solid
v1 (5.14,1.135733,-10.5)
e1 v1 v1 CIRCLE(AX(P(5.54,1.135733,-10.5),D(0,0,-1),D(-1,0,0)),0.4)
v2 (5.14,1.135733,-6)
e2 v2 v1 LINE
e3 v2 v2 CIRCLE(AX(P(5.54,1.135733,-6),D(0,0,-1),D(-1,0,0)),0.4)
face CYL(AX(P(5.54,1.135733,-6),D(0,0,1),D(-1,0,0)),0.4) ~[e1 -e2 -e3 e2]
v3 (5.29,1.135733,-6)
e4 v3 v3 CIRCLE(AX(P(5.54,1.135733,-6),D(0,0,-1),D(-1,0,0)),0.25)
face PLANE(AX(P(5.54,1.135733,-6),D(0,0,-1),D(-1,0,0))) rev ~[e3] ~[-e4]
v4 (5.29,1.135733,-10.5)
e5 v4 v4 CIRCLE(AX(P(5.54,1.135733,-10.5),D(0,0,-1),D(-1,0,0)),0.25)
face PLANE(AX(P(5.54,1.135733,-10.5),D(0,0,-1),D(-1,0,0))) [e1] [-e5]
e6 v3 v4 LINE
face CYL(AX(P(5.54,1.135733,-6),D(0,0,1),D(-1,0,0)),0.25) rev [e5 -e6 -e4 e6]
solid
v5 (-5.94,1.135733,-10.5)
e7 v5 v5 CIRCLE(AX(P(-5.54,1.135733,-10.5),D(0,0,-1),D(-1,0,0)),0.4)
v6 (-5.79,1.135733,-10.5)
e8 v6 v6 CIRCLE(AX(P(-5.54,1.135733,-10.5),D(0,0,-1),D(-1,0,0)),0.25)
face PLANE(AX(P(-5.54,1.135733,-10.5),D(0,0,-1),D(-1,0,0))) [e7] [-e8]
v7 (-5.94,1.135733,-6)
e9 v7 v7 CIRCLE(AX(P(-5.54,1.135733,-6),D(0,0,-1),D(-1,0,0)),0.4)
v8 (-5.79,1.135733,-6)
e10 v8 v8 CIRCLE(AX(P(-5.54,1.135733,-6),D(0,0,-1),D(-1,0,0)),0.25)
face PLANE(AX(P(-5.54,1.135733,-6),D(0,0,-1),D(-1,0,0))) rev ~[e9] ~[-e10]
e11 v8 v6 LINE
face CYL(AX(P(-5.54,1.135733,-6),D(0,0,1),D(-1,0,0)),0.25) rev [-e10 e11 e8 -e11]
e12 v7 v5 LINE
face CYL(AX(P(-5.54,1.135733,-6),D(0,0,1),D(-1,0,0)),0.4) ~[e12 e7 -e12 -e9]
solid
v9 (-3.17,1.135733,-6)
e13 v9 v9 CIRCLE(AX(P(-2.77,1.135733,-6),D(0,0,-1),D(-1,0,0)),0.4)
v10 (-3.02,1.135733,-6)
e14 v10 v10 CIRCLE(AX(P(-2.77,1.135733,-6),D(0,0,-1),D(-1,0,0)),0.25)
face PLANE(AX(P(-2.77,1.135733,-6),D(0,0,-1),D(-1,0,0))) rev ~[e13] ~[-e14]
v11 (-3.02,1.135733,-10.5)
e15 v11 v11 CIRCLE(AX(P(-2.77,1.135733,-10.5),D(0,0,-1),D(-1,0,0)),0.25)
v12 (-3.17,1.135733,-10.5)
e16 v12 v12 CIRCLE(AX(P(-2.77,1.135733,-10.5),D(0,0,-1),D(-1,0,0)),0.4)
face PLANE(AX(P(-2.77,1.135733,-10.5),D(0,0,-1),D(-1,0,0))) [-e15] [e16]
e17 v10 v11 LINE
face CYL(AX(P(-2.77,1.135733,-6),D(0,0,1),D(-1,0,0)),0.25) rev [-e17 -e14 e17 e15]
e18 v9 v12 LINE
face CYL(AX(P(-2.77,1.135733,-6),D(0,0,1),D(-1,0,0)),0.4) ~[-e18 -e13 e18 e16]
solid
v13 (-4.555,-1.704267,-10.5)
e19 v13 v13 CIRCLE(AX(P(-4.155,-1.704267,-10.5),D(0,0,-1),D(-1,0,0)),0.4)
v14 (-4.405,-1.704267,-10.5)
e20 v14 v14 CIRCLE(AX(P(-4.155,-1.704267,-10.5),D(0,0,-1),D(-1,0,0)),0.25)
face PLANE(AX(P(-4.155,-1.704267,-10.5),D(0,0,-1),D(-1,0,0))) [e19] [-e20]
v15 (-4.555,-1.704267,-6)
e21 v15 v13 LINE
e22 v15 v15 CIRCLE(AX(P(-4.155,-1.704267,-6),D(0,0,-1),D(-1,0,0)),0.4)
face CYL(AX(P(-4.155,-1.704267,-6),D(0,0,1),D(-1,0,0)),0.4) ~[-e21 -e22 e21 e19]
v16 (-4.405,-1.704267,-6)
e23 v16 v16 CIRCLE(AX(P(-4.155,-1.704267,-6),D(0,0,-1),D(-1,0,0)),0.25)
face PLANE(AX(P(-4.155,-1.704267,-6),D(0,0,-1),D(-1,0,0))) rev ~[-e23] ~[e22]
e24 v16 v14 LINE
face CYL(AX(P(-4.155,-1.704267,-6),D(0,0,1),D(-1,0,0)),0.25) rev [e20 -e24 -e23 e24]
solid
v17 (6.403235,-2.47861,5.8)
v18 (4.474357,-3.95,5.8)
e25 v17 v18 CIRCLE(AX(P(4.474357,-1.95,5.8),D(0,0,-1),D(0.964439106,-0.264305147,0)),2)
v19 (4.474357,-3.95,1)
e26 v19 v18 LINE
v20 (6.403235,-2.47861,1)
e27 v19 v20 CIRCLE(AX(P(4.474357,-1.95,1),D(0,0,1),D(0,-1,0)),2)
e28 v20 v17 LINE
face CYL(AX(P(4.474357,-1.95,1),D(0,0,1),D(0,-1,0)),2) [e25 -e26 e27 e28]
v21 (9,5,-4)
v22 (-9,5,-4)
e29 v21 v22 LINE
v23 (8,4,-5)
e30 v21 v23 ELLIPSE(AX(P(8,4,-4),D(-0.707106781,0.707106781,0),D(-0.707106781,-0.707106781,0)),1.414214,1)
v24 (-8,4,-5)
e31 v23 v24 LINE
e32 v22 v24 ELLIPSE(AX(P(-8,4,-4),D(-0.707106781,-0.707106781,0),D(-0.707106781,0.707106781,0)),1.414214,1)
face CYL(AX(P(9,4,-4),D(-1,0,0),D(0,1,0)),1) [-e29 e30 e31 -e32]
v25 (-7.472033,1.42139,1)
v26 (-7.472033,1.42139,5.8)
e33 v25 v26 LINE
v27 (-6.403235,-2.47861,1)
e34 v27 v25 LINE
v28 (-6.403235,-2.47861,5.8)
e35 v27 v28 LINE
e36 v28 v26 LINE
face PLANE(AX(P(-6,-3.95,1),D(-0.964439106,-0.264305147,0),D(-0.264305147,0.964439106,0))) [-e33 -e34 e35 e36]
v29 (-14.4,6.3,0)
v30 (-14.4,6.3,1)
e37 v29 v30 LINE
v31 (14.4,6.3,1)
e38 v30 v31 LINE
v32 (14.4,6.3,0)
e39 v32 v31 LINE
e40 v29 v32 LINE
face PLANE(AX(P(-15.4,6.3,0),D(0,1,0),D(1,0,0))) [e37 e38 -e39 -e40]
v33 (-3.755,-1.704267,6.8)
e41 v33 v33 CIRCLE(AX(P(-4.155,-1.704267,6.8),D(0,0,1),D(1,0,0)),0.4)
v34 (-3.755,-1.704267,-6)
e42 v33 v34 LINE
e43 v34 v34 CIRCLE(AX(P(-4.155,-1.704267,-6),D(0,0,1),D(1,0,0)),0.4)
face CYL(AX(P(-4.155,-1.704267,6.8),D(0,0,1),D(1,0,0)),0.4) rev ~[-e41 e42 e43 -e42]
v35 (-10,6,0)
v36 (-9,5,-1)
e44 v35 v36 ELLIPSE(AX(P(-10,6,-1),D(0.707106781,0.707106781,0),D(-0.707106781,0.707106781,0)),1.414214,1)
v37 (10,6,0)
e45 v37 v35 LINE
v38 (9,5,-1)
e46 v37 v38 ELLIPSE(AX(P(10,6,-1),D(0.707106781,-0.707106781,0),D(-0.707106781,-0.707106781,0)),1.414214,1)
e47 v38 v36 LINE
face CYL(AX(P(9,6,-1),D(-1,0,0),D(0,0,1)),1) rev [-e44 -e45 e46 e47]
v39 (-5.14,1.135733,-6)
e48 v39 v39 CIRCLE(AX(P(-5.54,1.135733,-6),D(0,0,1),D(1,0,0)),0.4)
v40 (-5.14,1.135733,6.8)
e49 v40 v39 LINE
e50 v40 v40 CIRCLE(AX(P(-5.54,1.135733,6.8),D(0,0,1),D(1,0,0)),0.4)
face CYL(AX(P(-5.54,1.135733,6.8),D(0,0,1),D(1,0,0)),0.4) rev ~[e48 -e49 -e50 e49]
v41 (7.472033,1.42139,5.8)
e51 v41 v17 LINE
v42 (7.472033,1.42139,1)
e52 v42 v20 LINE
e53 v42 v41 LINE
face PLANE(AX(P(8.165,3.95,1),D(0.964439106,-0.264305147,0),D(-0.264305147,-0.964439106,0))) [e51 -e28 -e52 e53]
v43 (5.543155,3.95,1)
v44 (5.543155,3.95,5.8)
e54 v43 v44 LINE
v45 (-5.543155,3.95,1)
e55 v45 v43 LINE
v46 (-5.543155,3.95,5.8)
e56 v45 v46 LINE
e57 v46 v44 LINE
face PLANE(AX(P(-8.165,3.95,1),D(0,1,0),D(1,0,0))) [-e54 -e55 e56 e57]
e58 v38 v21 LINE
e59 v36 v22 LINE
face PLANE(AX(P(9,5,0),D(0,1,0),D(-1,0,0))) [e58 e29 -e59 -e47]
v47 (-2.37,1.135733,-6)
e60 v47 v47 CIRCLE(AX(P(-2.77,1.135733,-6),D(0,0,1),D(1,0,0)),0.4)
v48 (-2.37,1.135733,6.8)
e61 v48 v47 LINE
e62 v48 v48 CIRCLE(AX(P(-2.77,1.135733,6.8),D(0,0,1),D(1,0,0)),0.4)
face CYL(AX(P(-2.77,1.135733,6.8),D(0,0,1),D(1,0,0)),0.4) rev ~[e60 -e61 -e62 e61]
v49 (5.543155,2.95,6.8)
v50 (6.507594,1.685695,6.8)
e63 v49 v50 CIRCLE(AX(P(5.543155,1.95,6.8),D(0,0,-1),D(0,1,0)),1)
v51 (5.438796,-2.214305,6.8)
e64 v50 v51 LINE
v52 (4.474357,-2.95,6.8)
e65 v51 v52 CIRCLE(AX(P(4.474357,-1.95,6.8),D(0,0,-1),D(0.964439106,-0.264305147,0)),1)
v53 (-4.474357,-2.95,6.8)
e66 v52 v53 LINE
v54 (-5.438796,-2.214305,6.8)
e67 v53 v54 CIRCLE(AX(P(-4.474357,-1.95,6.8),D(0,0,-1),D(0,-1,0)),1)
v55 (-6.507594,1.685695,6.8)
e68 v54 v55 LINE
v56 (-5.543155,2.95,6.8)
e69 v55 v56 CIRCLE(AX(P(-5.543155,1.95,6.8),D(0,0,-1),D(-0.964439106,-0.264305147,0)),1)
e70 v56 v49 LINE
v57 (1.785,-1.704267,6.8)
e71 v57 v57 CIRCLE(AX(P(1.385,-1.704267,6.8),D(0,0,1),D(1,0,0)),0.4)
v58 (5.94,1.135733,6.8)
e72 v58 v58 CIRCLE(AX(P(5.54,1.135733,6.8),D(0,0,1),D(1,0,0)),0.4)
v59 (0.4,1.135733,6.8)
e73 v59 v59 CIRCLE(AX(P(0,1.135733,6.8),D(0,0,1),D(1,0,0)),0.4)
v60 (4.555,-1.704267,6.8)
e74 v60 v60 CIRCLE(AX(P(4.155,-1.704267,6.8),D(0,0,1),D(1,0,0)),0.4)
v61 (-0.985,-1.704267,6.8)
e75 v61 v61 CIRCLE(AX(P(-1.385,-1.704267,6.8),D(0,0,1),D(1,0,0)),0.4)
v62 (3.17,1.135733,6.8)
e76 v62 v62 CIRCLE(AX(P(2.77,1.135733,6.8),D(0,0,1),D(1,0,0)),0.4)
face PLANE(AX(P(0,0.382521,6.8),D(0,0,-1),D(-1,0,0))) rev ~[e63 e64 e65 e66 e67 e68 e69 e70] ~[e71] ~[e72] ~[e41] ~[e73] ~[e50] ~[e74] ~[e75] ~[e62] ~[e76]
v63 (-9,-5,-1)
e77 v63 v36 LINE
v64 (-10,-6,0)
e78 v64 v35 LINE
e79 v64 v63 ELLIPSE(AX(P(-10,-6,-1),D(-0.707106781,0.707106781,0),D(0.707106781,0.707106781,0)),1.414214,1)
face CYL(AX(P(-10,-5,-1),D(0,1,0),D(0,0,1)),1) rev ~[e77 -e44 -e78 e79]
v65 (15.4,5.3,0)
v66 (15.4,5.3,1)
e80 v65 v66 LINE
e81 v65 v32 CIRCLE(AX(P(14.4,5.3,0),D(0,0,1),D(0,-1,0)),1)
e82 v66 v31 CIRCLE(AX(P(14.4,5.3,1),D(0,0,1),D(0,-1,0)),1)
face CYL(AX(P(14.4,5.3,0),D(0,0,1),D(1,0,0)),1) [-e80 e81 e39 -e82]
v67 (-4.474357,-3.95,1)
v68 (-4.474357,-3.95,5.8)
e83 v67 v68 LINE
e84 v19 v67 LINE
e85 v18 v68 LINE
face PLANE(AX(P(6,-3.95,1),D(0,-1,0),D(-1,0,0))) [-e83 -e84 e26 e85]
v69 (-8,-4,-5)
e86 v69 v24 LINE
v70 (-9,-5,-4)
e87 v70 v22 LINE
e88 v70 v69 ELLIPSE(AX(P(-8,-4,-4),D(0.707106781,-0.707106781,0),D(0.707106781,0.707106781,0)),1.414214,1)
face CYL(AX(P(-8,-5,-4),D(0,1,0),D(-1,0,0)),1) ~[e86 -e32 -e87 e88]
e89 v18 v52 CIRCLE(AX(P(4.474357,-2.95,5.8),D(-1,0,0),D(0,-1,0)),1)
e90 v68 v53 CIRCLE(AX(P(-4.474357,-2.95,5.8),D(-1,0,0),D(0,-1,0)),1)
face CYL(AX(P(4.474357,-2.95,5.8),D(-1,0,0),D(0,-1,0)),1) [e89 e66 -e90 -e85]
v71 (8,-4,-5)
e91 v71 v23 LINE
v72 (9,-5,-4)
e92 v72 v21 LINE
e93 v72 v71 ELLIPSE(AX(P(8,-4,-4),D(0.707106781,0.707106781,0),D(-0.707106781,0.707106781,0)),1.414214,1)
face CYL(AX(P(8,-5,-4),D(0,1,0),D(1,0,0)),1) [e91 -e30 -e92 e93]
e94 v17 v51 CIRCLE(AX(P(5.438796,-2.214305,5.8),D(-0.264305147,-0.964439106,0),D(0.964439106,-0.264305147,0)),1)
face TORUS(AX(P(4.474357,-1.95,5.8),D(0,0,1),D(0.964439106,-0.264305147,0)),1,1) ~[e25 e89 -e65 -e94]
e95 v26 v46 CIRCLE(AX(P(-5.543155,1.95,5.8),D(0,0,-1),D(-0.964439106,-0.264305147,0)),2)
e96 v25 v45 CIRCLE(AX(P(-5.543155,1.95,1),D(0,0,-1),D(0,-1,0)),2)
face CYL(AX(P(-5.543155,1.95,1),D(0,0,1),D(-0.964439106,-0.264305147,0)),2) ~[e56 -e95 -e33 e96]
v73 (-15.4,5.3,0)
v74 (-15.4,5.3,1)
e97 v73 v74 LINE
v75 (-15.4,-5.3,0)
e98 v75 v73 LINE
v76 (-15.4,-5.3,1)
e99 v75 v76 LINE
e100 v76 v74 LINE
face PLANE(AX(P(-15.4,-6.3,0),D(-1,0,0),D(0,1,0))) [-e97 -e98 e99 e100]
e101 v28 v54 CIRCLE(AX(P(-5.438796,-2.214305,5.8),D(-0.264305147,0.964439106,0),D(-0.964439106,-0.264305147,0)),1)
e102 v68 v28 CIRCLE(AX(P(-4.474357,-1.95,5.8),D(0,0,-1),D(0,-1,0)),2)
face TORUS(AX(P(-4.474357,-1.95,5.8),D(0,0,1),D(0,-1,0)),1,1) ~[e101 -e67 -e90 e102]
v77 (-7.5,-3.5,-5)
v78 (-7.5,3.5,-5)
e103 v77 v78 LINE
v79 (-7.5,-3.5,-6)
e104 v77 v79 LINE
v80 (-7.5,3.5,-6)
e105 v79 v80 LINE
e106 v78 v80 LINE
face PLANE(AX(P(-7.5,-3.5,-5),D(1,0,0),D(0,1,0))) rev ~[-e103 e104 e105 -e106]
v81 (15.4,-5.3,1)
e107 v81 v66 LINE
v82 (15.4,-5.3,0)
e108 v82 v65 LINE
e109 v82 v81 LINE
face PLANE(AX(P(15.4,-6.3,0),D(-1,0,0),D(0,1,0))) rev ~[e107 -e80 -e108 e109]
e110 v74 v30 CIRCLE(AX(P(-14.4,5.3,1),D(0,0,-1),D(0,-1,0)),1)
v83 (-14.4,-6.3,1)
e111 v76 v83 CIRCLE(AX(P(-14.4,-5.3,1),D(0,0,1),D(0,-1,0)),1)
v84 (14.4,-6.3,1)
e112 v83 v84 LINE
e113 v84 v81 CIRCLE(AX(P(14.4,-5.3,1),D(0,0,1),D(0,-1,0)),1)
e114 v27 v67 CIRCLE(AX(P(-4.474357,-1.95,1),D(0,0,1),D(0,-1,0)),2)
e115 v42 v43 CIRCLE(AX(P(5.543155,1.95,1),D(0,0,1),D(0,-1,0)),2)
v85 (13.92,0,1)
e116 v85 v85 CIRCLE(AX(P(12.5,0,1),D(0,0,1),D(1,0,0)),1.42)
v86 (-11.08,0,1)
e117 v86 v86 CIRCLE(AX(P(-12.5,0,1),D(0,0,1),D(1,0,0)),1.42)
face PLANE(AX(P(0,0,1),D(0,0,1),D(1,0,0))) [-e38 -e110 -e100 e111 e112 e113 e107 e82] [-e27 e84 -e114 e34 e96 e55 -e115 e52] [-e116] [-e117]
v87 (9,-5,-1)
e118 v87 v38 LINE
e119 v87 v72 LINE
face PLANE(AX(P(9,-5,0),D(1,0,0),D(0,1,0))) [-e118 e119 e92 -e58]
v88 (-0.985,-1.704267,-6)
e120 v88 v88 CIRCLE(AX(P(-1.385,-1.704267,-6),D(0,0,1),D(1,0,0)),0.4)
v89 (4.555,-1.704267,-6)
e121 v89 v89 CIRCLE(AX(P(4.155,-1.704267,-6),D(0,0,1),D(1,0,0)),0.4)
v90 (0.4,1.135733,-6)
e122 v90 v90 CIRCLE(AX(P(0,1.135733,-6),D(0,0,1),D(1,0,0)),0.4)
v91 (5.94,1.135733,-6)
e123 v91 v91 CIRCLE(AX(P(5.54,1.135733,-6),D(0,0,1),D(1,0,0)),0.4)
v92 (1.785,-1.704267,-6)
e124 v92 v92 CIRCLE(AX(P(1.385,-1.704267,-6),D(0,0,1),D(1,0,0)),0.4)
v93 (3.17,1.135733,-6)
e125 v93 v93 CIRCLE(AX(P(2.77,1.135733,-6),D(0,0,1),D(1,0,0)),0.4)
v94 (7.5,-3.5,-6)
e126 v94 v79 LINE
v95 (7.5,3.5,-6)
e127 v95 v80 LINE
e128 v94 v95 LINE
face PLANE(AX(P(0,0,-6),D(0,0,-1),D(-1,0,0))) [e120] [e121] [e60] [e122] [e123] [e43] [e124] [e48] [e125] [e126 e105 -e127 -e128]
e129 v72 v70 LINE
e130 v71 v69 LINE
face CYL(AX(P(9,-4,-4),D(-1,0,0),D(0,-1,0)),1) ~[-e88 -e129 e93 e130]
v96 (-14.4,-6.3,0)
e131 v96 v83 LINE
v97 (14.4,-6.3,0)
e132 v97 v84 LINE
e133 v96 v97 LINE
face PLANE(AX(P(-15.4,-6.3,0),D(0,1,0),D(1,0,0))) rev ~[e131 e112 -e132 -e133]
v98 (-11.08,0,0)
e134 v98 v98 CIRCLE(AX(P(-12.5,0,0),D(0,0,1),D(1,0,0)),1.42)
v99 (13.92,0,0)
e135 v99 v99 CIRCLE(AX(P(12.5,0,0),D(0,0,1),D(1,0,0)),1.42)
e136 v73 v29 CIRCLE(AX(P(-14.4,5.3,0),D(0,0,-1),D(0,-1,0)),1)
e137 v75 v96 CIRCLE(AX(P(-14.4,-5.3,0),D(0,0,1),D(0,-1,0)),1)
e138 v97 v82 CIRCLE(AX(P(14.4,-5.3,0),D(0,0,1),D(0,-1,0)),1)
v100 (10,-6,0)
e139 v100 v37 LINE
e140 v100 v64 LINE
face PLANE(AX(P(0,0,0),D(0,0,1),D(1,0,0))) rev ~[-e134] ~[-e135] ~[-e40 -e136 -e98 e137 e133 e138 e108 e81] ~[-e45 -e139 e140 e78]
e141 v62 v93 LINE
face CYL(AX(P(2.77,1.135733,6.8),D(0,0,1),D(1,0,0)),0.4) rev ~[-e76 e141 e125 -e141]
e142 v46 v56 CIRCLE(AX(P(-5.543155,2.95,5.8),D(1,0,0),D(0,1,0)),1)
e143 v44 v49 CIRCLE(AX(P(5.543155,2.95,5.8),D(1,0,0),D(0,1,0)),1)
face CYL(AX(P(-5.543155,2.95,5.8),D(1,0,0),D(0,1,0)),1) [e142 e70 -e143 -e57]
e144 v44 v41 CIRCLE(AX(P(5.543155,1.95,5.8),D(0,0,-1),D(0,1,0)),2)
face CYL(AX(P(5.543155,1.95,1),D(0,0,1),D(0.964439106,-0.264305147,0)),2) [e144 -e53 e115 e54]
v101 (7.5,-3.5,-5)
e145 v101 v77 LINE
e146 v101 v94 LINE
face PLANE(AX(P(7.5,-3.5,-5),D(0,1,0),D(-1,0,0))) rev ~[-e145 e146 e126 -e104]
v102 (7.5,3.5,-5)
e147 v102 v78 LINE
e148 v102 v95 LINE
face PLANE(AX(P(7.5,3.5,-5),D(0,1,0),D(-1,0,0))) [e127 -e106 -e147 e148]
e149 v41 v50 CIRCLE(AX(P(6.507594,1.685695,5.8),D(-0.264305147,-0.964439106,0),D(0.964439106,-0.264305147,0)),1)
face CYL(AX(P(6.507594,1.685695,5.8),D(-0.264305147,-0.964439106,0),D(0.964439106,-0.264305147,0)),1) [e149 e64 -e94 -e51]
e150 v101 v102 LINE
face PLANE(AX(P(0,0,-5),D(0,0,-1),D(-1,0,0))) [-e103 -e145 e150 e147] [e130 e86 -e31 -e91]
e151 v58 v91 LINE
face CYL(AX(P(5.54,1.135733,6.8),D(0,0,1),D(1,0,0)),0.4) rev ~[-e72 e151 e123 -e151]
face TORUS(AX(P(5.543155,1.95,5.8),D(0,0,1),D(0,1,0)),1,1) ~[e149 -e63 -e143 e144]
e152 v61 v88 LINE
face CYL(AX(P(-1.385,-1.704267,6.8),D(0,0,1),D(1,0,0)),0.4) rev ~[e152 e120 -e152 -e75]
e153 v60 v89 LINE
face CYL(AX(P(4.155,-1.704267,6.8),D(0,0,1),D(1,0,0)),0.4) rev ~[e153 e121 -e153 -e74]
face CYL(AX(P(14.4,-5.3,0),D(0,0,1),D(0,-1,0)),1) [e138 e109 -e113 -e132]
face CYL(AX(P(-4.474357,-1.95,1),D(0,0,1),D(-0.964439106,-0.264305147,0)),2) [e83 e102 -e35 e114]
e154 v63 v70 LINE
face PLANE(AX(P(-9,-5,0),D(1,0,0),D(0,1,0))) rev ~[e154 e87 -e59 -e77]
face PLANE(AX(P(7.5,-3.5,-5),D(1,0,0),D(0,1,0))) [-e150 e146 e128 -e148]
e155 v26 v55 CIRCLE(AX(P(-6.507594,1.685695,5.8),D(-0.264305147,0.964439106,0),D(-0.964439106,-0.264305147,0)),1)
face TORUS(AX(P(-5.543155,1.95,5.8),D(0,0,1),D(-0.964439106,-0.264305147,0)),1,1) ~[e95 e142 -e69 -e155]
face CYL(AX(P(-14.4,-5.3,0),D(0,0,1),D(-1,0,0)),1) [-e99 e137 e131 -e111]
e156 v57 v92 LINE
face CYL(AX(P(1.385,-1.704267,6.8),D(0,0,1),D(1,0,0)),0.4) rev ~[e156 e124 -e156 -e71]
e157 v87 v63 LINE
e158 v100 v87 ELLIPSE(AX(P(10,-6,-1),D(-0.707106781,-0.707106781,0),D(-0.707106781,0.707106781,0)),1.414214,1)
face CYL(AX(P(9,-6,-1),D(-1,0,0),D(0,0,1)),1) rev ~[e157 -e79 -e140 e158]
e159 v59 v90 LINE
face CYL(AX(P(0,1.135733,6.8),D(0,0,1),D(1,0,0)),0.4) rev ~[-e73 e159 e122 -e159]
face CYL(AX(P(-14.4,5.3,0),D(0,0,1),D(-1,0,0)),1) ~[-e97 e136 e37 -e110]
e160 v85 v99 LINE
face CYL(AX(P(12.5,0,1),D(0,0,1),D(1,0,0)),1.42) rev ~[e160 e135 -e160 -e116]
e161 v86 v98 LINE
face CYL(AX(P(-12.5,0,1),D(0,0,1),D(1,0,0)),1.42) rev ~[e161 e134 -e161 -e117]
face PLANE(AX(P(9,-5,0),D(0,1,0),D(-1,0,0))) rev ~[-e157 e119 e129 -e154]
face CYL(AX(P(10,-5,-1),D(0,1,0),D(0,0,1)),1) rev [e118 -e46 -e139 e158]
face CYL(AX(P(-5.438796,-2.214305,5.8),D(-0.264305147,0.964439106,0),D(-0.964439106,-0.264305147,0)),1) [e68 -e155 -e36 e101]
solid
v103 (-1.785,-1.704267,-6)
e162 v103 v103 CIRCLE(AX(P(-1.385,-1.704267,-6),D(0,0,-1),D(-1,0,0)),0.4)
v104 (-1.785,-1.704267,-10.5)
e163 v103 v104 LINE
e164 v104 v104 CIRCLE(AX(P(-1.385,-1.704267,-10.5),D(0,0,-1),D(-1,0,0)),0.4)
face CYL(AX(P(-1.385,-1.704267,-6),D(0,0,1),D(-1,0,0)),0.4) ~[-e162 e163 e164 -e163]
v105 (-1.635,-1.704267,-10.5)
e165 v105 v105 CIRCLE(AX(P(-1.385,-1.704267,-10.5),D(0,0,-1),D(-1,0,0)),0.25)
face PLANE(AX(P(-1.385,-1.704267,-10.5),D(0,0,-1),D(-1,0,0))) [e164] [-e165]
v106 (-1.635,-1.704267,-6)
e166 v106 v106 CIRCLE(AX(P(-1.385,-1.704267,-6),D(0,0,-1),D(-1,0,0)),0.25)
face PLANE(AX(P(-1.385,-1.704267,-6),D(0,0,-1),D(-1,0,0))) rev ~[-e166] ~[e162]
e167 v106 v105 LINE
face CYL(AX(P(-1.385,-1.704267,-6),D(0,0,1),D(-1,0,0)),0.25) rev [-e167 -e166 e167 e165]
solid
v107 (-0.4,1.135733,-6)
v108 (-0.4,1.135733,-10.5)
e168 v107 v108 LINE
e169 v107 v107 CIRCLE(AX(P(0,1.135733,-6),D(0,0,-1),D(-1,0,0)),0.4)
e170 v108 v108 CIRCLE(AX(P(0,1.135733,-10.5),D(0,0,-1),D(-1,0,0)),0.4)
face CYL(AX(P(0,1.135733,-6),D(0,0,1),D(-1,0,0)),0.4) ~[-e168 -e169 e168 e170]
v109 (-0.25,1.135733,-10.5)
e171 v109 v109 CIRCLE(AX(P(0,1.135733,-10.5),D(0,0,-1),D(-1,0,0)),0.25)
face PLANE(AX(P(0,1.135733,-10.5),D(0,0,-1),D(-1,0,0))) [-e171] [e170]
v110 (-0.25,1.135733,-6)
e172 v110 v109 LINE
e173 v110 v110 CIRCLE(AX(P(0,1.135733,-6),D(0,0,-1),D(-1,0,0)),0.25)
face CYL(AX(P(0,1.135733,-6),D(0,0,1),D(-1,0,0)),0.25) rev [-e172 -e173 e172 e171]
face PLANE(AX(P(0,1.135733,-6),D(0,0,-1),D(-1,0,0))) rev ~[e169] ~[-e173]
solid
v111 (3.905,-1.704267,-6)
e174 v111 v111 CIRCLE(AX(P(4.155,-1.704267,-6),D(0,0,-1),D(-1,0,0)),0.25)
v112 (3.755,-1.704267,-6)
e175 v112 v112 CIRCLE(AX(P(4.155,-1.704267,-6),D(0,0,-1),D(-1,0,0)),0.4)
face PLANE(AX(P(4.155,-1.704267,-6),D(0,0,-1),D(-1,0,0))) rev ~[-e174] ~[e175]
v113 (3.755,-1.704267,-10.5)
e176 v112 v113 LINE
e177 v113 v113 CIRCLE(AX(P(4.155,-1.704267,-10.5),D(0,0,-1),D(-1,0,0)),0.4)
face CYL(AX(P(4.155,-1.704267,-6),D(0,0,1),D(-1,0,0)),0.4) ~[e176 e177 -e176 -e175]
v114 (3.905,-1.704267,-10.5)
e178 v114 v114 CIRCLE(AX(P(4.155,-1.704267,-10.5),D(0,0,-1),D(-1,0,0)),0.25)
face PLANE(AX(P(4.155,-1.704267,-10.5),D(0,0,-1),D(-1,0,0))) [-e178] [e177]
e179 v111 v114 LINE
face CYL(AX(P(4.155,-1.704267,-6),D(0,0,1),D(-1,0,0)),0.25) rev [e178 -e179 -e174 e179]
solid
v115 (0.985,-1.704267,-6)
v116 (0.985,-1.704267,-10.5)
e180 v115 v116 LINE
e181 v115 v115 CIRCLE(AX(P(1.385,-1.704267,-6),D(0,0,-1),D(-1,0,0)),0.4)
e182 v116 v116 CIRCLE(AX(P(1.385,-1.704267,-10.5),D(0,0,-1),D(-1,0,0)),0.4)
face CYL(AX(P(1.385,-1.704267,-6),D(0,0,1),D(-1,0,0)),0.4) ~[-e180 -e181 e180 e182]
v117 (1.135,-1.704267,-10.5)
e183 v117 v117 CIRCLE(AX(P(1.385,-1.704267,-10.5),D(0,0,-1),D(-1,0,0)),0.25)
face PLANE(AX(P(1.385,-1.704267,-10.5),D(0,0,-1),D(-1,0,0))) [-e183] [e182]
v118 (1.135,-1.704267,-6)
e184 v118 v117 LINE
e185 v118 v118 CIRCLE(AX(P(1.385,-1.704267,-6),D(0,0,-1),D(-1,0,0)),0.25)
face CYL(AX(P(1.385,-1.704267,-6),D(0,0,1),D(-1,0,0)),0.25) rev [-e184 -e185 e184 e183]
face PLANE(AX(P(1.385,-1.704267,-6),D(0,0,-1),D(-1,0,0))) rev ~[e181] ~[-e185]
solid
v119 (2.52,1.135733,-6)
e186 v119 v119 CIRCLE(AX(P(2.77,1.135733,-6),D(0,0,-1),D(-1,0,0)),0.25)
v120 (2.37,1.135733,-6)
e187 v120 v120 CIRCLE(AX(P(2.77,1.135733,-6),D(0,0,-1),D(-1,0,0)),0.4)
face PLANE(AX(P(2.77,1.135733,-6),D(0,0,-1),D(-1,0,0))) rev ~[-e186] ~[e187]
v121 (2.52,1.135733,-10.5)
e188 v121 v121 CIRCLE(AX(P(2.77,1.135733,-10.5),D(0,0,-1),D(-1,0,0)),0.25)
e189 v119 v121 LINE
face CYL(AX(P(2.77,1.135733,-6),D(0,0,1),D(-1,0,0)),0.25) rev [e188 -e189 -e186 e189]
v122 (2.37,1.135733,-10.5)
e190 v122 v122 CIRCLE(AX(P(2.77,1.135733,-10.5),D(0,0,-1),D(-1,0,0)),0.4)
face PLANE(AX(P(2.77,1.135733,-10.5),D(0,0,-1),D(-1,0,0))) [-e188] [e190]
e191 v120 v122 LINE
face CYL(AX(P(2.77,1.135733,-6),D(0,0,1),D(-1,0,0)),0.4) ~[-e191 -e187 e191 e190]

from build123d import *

# Parameters (mm, degrees)
SKETCH_1_W             = 30.8
SKETCH_1_H             = 12.6
EXTRUDE_1_DEPTH        = 1
FILLET_1_R             = 1
EXTRUDE_2_DEPTH        = 5.8
FILLET_2_R             = 2
FILLET_3_R             = 1
SKETCH_3_R             = 1.42
CUT_EXTRUDE_1_DEPTH    = 5.8
SKETCH_4_W             = 18
SKETCH_4_H             = 10
EXTRUDE_3_DEPTH        = 5
FILLET_4_R             = 1
FILLET_6_R             = 1
SKETCH_5_W             = 15
SKETCH_5_H             = 7
EXTRUDE_4_DEPTH        = 1
SKETCH_6_R             = 0.4
CUT_EXTRUDE_2_DEPTH    = 20
PATTERN_LINEAR_1_COUNT = 5
PATTERN_LINEAR_1_PITCH = 2.77
SKETCH_7_R             = 0.4
CUT_EXTRUDE_3_DEPTH    = 20
PATTERN_LINEAR_2_COUNT = 4
PATTERN_LINEAR_2_PITCH = 2.77
SKETCH_8_R             = 0.4
EXTRUDE_5_DEPTH        = 4.5
EXTRUDE_5_2_DEPTH      = 4.5
EXTRUDE_5_3_DEPTH      = 4.5
EXTRUDE_5_4_DEPTH      = 4.5
EXTRUDE_5_5_DEPTH      = 4.5
EXTRUDE_5_6_DEPTH      = 4.5
EXTRUDE_5_7_DEPTH      = 4.5
EXTRUDE_5_8_DEPTH      = 4.5
EXTRUDE_5_9_DEPTH      = 4.5
SKETCH_9_R             = 0.25
CUT_EXTRUDE_4_DEPTH    = 4.5


with BuildPart() as part:
    # Эскиз1 → Бобышка-Вытянуть1 (new body)
    with BuildSketch(Plane.XY):
        Rectangle(SKETCH_1_W, SKETCH_1_H)
    extrude(amount=EXTRUDE_1_DEPTH)

    # Скругление1
    fillet_1_edges = [part.edges().sort_by_distance(p)[0] for p in [
        (15.4, -6.3, 0.5),
        (-15.4, -6.3, 0.5),
        (-15.4, 6.3, 0.5),
        (15.4, 6.3, 0.5),
    ]]
    fillet(fillet_1_edges, radius=FILLET_1_R)

    # Эскиз2 → Бобышка-Вытянуть2 (add)
    with BuildSketch(Plane.XY.offset(1)):
        Polygon((-8.165, 3.95), (8.165, 3.95), (6, -3.95), (-6, -3.95), align=None)
    extrude(amount=EXTRUDE_2_DEPTH)

    # Скругление2
    fillet_2_edges = [part.edges().sort_by_distance(p)[0] for p in [
        (-8.165, 3.95, 3.9),
        (-6, -3.95, 3.9),
        (6, -3.95, 3.9),
        (8.165, 3.95, 3.9),
    ]]
    fillet(fillet_2_edges, radius=FILLET_2_R)

    # Скругление3
    fillet_3_edges = [part.edges().sort_by_distance(p)[0] for p in [
        (0, -3.95, 6.8),
        (-6.937634014, -0.528610295, 6.8),
        (6.937634014, -0.528610295, 6.8),
        (0, 3.95, 6.8),
        (-7.133314998, 3.163008535, 6.8),
        (7.133314998, 3.163008535, 6.8),
        (5.687365603, -3.540160462, 6.8),
        (-5.687365603, -3.540160462, 6.8),
    ]]
    fillet(fillet_3_edges, radius=FILLET_3_R)

    # Эскиз3 → Вырез-Вытянуть1 (cut)
    with BuildSketch(Plane.XY.offset(1)):
        with Locations((-12.5, 0)):
            Circle(SKETCH_3_R)
        with Locations((12.5, 0)):
            Circle(SKETCH_3_R)
    extrude(amount=-CUT_EXTRUDE_1_DEPTH, mode=Mode.SUBTRACT)

    # Эскиз4 → Бобышка-Вытянуть3 (add)
    with BuildSketch(Plane(origin=(0, 0, 0), x_dir=(-1, 0, 0), z_dir=(0, 0, -1))):
        Rectangle(SKETCH_4_W, SKETCH_4_H)
    extrude(amount=EXTRUDE_3_DEPTH)

    # Скругление4
    fillet_4_edges = [part.edges().sort_by_distance(p)[0] for p in [
        (-9, 0, 0),
        (0, 5, 0),
        (9, 0, 0),
        (0, -5, 0),
    ]]
    fillet(fillet_4_edges, radius=FILLET_4_R)

    # Скругление6
    fillet_6_edges = [part.edges().sort_by_distance(p)[0] for p in [
        (-9, 0, -5),
        (0, 5, -5),
        (9, 0, -5),
        (0, -5, -5),
    ]]
    fillet(fillet_6_edges, radius=FILLET_6_R)

    # Эскиз5 → Бобышка-Вытянуть4 (add)
    with BuildSketch(Plane(origin=(0, 0, -5), x_dir=(-1, 0, 0), z_dir=(0, 0, -1))):
        Rectangle(SKETCH_5_W, SKETCH_5_H)
    extrude(amount=EXTRUDE_4_DEPTH)

    # Эскиз6 → Вырез-Вытянуть2 (cut)
    with BuildSketch(Plane.XY.offset(6.8)):
        with Locations((-5.54, 1.135732601)):
            Circle(SKETCH_6_R)
    cut_extrude_2 = extrude(amount=-CUT_EXTRUDE_2_DEPTH, mode=Mode.SUBTRACT)

    # Линейный массив1: Вырез-Вытянуть2 ×5
    with Locations(*[(i * PATTERN_LINEAR_1_PITCH, 0, 0) for i in range(1, PATTERN_LINEAR_1_COUNT)]):
        add(cut_extrude_2, mode=Mode.SUBTRACT)

    # Эскиз7 → Вырез-Вытянуть3 (cut)
    with BuildSketch(Plane.XY.offset(6.8)):
        with Locations((-4.155, -1.704267399)):
            Circle(SKETCH_7_R)
    cut_extrude_3 = extrude(amount=-CUT_EXTRUDE_3_DEPTH, mode=Mode.SUBTRACT)

    # Линейный массив2: Вырез-Вытянуть3 ×4
    with Locations(*[(i * PATTERN_LINEAR_2_PITCH, 0, 0) for i in range(1, PATTERN_LINEAR_2_COUNT)]):
        add(cut_extrude_3, mode=Mode.SUBTRACT)


with BuildPart() as body_2:
    # Эскиз8 → Бобышка-Вытянуть5 (new body)
    with BuildSketch(Plane(origin=(0, 0, -6), x_dir=(-1, 0, 0), z_dir=(0, 0, -1))):
        with Locations((-5.54, 1.135732601)):
            Circle(SKETCH_8_R)
    extrude(amount=EXTRUDE_5_DEPTH)


with BuildPart() as body_3:
    # Эскиз8 → Extrude 5 2 (new body)
    with BuildSketch(Plane(origin=(0, 0, -6), x_dir=(-1, 0, 0), z_dir=(0, 0, -1))):
        with Locations((-2.77, 1.135732601)):
            Circle(SKETCH_8_R)
    extrude(amount=EXTRUDE_5_2_DEPTH)


with BuildPart() as body_4:
    # Эскиз8 → Extrude 5 3 (new body)
    with BuildSketch(Plane(origin=(0, 0, -6), x_dir=(-1, 0, 0), z_dir=(0, 0, -1))):
        with Locations((0, 1.135732601)):
            Circle(SKETCH_8_R)
    extrude(amount=EXTRUDE_5_3_DEPTH)


with BuildPart() as body_5:
    # Эскиз8 → Extrude 5 4 (new body)
    with BuildSketch(Plane(origin=(0, 0, -6), x_dir=(-1, 0, 0), z_dir=(0, 0, -1))):
        with Locations((2.77, 1.135732601)):
            Circle(SKETCH_8_R)
    extrude(amount=EXTRUDE_5_4_DEPTH)


with BuildPart() as body_6:
    # Эскиз8 → Extrude 5 5 (new body)
    with BuildSketch(Plane(origin=(0, 0, -6), x_dir=(-1, 0, 0), z_dir=(0, 0, -1))):
        with Locations((5.54, 1.135732601)):
            Circle(SKETCH_8_R)
    extrude(amount=EXTRUDE_5_5_DEPTH)


with BuildPart() as body_7:
    # Эскиз8 → Extrude 5 6 (new body)
    with BuildSketch(Plane(origin=(0, 0, -6), x_dir=(-1, 0, 0), z_dir=(0, 0, -1))):
        with Locations((4.155, -1.704267399)):
            Circle(SKETCH_8_R)
    extrude(amount=EXTRUDE_5_6_DEPTH)


with BuildPart() as body_8:
    # Эскиз8 → Extrude 5 7 (new body)
    with BuildSketch(Plane(origin=(0, 0, -6), x_dir=(-1, 0, 0), z_dir=(0, 0, -1))):
        with Locations((1.385, -1.704267399)):
            Circle(SKETCH_8_R)
    extrude(amount=EXTRUDE_5_7_DEPTH)


with BuildPart() as body_9:
    # Эскиз8 → Extrude 5 8 (new body)
    with BuildSketch(Plane(origin=(0, 0, -6), x_dir=(-1, 0, 0), z_dir=(0, 0, -1))):
        with Locations((-1.385, -1.704267399)):
            Circle(SKETCH_8_R)
    extrude(amount=EXTRUDE_5_8_DEPTH)


with BuildPart() as body_10:
    # Эскиз8 → Extrude 5 9 (new body)
    with BuildSketch(Plane(origin=(0, 0, -6), x_dir=(-1, 0, 0), z_dir=(0, 0, -1))):
        with Locations((-4.155, -1.704267399)):
            Circle(SKETCH_8_R)
    extrude(amount=EXTRUDE_5_9_DEPTH)


with BuildPart() as cut_extrude_4_tool:
    # Эскиз9 → Вырез-Вытянуть4 (new body)
    with BuildSketch(Plane(origin=(0, 0, -6), x_dir=(-1, 0, 0), z_dir=(0, 0, -1))):
        with Locations((-5.54, 1.135732601)):
            Circle(SKETCH_9_R)
        with Locations((-2.77, 1.135732601)):
            Circle(SKETCH_9_R)
        with Locations((0, 1.135732601)):
            Circle(SKETCH_9_R)
        with Locations((2.77, 1.135732601)):
            Circle(SKETCH_9_R)
        with Locations((-4.155, -1.704267399)):
            Circle(SKETCH_9_R)
        with Locations((-1.385, -1.704267399)):
            Circle(SKETCH_9_R)
        with Locations((1.385, -1.704267399)):
            Circle(SKETCH_9_R)
        with Locations((4.155, -1.704267399)):
            Circle(SKETCH_9_R)
        with Locations((5.54, 1.135732601)):
            Circle(SKETCH_9_R)
    extrude(amount=CUT_EXTRUDE_4_DEPTH)


with BuildPart() as body_2_1:
    add(body_2.part)

    # Вырез-Вытянуть4: cut by cut_extrude_4_tool
    add(cut_extrude_4_tool.part, mode=Mode.SUBTRACT)


with BuildPart() as body_3_1:
    add(body_3.part)

    # Вырез-Вытянуть4: cut by cut_extrude_4_tool
    add(cut_extrude_4_tool.part, mode=Mode.SUBTRACT)


with BuildPart() as body_4_1:
    add(body_4.part)

    # Вырез-Вытянуть4: cut by cut_extrude_4_tool
    add(cut_extrude_4_tool.part, mode=Mode.SUBTRACT)


with BuildPart() as body_5_1:
    add(body_5.part)

    # Вырез-Вытянуть4: cut by cut_extrude_4_tool
    add(cut_extrude_4_tool.part, mode=Mode.SUBTRACT)


with BuildPart() as body_6_1:
    add(body_6.part)

    # Вырез-Вытянуть4: cut by cut_extrude_4_tool
    add(cut_extrude_4_tool.part, mode=Mode.SUBTRACT)


with BuildPart() as body_7_1:
    add(body_7.part)

    # Вырез-Вытянуть4: cut by cut_extrude_4_tool
    add(cut_extrude_4_tool.part, mode=Mode.SUBTRACT)


with BuildPart() as body_8_1:
    add(body_8.part)

    # Вырез-Вытянуть4: cut by cut_extrude_4_tool
    add(cut_extrude_4_tool.part, mode=Mode.SUBTRACT)


with BuildPart() as body_9_1:
    add(body_9.part)

    # Вырез-Вытянуть4: cut by cut_extrude_4_tool
    add(cut_extrude_4_tool.part, mode=Mode.SUBTRACT)


with BuildPart() as body_10_1:
    add(body_10.part)

    # Вырез-Вытянуть4: cut by cut_extrude_4_tool
    add(cut_extrude_4_tool.part, mode=Mode.SUBTRACT)


solid = Compound([part.part, body_2_1.part, body_3_1.part, body_4_1.part, body_5_1.part, body_6_1.part, body_7_1.part, body_8_1.part, body_9_1.part, body_10_1.part])
